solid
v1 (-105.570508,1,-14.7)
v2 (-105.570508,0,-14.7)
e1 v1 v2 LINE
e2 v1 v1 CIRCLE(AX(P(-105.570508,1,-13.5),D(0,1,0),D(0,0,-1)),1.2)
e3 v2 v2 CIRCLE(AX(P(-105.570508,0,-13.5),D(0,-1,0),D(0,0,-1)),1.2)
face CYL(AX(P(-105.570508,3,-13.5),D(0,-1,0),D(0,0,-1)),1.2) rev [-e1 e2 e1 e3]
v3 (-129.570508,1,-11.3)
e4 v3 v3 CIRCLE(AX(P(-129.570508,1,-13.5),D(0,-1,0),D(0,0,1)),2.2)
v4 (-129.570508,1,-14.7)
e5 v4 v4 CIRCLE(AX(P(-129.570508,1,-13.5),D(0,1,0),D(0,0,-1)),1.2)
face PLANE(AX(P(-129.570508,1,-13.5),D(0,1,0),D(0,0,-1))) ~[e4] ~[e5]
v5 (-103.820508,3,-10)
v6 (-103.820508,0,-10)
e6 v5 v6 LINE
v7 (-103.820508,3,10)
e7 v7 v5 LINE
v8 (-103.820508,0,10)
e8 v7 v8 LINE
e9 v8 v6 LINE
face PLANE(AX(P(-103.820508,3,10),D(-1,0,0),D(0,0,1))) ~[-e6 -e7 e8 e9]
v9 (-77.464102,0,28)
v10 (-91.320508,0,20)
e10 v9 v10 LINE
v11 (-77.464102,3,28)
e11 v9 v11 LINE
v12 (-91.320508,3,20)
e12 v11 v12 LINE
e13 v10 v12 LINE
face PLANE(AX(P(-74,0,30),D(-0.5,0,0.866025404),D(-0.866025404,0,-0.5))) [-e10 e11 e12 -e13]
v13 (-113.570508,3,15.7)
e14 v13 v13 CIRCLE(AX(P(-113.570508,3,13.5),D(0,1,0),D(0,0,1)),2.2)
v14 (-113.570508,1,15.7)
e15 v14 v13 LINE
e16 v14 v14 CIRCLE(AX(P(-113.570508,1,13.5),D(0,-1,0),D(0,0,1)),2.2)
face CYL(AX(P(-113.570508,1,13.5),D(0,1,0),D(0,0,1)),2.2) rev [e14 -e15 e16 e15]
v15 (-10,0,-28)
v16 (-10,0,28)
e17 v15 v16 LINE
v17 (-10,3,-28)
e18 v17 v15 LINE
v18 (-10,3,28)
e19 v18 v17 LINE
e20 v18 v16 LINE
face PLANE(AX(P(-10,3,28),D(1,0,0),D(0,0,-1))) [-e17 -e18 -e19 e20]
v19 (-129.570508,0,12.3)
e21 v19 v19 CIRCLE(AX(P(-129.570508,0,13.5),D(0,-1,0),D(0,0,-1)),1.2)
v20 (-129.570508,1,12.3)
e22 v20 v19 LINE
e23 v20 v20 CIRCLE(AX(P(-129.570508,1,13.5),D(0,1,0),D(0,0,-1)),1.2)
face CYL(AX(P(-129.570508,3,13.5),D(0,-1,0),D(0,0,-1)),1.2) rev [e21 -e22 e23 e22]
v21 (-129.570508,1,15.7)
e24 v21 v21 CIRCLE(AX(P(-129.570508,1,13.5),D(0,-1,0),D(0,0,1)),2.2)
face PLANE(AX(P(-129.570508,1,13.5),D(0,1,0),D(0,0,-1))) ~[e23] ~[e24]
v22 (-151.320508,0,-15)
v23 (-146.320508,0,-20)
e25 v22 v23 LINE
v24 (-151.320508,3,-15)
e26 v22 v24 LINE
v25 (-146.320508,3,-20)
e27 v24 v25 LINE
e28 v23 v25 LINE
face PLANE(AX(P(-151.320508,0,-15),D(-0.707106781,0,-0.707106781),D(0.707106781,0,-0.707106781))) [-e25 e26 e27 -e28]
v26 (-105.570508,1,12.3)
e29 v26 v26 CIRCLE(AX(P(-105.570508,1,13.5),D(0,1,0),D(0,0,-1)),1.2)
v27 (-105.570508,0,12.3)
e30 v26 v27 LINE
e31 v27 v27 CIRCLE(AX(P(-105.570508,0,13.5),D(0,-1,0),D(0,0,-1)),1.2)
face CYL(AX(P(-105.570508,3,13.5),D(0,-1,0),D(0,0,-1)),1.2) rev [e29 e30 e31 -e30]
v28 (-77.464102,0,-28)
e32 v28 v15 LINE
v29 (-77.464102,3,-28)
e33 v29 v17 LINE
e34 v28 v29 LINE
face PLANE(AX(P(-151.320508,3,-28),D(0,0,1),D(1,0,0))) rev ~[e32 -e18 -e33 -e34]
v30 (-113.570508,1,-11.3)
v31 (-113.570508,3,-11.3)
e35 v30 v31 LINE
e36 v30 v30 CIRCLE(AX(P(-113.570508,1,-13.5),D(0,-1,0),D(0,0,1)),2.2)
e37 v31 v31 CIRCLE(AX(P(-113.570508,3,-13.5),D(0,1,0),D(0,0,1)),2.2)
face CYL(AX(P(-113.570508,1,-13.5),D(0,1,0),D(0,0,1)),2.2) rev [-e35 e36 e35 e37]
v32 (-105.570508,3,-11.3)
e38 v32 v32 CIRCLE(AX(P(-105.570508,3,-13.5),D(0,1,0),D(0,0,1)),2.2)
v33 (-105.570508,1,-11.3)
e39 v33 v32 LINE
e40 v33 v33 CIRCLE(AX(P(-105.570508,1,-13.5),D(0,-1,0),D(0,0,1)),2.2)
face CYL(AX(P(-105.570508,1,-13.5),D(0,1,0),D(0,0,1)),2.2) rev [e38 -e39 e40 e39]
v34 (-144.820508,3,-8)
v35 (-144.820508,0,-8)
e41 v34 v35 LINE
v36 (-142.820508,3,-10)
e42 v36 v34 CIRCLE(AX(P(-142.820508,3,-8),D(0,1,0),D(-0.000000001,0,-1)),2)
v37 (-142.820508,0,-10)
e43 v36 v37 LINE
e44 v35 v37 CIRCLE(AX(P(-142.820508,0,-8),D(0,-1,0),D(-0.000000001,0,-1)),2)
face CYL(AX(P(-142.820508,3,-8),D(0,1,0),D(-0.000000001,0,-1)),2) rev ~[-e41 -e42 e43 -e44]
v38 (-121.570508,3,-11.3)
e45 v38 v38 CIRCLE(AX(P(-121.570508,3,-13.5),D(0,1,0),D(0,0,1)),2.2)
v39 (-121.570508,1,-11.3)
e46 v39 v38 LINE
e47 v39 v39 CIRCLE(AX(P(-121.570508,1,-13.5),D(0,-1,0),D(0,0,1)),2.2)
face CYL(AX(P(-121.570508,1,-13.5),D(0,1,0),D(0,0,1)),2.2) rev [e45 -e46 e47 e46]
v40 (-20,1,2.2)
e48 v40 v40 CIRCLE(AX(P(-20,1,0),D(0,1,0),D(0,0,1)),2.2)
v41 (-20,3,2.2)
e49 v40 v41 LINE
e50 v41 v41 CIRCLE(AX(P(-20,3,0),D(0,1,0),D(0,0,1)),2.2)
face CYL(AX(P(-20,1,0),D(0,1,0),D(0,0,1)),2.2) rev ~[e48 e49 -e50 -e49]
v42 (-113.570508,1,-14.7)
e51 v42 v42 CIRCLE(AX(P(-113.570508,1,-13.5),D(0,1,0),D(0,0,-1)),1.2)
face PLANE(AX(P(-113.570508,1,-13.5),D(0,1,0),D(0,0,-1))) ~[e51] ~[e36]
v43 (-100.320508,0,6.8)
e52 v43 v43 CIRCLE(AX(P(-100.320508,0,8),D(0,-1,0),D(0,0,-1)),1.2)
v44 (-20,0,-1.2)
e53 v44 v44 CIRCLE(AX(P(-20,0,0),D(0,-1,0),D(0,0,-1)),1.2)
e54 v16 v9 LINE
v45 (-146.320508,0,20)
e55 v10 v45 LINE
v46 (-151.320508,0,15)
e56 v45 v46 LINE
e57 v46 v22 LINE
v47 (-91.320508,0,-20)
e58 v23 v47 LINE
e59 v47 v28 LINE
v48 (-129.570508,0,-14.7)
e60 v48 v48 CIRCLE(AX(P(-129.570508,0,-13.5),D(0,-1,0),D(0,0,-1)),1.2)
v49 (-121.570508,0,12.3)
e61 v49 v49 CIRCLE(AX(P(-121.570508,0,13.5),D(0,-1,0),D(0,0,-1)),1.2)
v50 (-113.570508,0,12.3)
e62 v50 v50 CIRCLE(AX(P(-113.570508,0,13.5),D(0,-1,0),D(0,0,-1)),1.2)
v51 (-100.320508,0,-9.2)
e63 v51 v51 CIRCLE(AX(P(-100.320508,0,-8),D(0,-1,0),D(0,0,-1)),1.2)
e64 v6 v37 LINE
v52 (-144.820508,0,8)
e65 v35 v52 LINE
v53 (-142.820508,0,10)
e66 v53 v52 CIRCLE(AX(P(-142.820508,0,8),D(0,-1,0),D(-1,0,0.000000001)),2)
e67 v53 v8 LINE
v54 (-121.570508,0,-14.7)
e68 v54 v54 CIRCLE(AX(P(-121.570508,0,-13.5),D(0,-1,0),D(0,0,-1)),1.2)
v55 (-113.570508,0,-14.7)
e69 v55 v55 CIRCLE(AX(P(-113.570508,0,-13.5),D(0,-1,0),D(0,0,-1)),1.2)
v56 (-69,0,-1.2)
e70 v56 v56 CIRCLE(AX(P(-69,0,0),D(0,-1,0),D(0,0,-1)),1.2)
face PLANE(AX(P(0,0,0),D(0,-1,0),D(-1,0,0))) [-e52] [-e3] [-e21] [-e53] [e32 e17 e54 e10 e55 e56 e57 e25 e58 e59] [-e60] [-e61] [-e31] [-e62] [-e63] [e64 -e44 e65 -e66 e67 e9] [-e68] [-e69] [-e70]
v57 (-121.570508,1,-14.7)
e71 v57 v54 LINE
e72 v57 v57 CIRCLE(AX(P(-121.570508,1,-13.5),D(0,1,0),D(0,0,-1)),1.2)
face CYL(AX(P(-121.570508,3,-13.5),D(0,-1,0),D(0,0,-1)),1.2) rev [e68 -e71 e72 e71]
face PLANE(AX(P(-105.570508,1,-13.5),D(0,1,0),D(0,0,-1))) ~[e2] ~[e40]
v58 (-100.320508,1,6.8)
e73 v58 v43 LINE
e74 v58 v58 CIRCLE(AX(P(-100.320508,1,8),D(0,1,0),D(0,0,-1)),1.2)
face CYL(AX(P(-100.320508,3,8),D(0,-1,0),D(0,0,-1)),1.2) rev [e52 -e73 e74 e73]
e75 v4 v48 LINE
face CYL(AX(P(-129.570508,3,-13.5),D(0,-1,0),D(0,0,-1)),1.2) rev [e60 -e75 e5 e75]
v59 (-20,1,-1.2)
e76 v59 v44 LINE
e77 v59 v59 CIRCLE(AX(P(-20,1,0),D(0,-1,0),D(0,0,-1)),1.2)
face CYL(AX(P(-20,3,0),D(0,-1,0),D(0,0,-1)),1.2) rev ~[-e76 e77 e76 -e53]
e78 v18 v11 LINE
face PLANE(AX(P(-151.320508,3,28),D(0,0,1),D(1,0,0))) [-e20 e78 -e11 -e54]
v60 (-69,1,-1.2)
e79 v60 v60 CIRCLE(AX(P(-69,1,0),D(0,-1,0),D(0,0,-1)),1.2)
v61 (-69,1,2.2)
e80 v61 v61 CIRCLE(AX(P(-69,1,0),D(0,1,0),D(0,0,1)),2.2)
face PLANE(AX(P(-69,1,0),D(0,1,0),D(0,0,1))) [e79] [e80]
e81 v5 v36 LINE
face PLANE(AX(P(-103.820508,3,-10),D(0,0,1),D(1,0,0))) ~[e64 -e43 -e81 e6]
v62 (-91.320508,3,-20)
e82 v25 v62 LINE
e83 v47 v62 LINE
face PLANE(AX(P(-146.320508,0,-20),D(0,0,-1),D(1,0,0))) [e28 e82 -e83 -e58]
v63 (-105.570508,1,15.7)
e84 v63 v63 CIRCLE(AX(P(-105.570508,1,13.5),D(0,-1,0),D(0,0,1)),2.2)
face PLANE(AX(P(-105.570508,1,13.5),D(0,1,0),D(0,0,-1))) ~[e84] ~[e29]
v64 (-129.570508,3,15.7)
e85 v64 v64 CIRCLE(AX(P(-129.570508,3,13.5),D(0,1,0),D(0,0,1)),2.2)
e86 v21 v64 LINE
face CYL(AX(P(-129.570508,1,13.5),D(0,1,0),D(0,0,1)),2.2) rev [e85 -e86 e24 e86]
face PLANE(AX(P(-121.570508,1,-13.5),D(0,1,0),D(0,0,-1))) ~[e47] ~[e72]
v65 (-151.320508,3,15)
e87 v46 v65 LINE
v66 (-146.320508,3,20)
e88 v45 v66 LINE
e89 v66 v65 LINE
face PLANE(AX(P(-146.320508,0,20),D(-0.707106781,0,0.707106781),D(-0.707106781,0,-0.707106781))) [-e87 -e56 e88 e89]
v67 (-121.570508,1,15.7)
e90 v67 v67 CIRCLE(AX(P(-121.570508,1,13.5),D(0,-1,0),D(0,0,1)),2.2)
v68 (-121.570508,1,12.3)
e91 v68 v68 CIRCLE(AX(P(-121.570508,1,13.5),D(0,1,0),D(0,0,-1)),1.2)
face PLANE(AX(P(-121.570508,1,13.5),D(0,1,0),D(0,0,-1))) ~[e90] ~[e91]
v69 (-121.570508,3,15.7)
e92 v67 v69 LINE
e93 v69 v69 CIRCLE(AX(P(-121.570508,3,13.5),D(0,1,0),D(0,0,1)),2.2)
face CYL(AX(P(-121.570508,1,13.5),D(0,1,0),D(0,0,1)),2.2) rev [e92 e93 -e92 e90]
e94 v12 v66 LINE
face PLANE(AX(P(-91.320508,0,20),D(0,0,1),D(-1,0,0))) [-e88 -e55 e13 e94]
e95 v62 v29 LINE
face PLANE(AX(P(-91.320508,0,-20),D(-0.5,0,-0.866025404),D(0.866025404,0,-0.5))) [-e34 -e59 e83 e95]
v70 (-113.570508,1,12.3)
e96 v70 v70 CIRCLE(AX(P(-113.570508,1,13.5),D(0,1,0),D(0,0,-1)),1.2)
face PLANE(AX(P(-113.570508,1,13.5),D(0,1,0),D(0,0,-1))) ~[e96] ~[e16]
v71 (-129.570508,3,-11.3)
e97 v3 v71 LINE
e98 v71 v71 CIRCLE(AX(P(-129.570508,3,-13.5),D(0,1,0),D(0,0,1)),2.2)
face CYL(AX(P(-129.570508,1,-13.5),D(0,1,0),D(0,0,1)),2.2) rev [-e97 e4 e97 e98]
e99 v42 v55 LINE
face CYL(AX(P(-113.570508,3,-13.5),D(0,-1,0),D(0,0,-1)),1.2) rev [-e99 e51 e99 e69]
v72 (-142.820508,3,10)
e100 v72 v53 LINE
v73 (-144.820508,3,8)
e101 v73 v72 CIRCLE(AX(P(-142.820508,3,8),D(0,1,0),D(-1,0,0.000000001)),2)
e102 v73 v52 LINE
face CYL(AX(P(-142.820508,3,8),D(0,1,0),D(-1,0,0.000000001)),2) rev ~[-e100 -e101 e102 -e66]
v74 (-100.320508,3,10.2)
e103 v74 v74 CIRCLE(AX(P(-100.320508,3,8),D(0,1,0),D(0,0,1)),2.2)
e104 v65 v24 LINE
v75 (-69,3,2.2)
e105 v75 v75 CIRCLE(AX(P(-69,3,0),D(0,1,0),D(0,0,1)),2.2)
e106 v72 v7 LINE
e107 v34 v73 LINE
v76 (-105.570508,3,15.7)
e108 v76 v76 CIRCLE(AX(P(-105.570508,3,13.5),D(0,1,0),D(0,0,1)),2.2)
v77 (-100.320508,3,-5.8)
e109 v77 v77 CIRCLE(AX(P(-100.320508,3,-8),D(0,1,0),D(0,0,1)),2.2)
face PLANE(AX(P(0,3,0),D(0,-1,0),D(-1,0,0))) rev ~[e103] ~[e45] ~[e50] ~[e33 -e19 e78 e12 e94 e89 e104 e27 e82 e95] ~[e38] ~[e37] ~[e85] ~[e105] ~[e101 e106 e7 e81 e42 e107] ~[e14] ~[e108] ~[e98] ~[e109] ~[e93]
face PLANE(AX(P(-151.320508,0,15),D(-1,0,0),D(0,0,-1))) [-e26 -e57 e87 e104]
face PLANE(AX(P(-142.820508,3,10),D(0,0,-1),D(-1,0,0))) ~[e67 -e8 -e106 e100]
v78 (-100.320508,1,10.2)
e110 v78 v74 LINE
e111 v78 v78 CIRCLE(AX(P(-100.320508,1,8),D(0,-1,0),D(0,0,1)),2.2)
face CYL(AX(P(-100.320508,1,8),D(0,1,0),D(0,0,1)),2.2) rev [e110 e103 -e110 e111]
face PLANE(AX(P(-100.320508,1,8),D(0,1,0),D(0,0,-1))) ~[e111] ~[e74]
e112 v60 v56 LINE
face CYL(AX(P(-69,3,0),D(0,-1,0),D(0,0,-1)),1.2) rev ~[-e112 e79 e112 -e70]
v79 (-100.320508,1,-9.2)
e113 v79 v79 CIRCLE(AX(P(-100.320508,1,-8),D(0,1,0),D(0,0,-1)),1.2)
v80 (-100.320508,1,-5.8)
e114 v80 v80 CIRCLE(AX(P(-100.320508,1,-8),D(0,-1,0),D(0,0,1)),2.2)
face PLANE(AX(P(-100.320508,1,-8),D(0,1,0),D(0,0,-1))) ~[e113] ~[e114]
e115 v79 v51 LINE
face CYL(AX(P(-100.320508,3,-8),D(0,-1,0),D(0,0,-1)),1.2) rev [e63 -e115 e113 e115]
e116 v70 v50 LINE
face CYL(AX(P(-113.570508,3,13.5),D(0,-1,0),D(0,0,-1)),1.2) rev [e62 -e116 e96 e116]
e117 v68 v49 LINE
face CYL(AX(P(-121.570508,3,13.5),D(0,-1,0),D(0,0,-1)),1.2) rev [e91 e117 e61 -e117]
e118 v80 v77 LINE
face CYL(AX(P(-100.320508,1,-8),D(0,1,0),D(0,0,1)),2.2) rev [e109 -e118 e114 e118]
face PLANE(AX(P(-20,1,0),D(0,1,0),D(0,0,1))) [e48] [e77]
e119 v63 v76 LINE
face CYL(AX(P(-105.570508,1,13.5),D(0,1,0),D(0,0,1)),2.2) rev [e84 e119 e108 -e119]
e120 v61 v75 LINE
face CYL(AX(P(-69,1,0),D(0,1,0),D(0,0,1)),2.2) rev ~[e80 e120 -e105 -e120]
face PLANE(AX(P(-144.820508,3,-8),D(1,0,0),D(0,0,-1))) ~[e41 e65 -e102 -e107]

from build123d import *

# Parameters (mm, degrees)
EXTRUDE_1_DEPTH              = 3
CUT_EXTRUDE_1_REACH          = 217.134
HOLE_WIZARD_M2_2_D           = 2.4
HOLE_WIZARD_M2_2_CBORE_D     = 4.4
HOLE_WIZARD_M2_2_CBORE_DEPTH = 2
CUT_EXTRUDE_2_REACH          = 217.134
HOLE_WIZARD_M2_3_D           = 2.4
HOLE_WIZARD_M2_3_CBORE_D     = 4.4
HOLE_WIZARD_M2_3_CBORE_DEPTH = 2
MIRROR_7_COPY_1_REACH        = 217.134
MIRROR_7_COPY_2_D            = 2.4
MIRROR_7_COPY_2_CBORE_D      = 4.4
MIRROR_7_COPY_2_CBORE_DEPTH  = 2
CUT_EXTRUDE_3_REACH          = 217.134
SKETCH_18_W                  = 20
SKETCH_18_H                  = 10
HOLE_WIZARD_M2_4_D           = 2.4
HOLE_WIZARD_M2_4_CBORE_D     = 4.4
HOLE_WIZARD_M2_4_CBORE_DEPTH = 2
HOLE_WIZARD_M2_5_D           = 2.4
HOLE_WIZARD_M2_5_CBORE_D     = 4.4
HOLE_WIZARD_M2_5_CBORE_DEPTH = 2
HOLE_WIZARD_M2_6_D           = 2.4
HOLE_WIZARD_M2_6_CBORE_D     = 4.4
HOLE_WIZARD_M2_6_CBORE_DEPTH = 2
SKETCH_24_W                  = 20
SKETCH_24_H                  = 56
CUT_EXTRUDE_4_DEPTH          = 10
HOLE_WIZARD_M2_7_D           = 2.4
HOLE_WIZARD_M2_7_CBORE_D     = 4.4
HOLE_WIZARD_M2_7_CBORE_DEPTH = 2
SKETCH_26_OUTSIDE_W          = 390.69
SKETCH_26_OUTSIDE_H          = 393.83
SKETCH_26_OUTSIDE_W_2        = 141.320508076
SKETCH_26_OUTSIDE_H_2        = 56
CUT_EXTRUDE_5_DEPTH          = 10


with BuildPart() as part:
    # 草图1 → 凸台-拉伸1 (new body)
    with BuildSketch(Plane(origin=(0, 0, 0), x_dir=(1, 0, 0), z_dir=(0, 1, 0))):
        Polygon((-45.715728753, 114), (45.715728753, 114), (84.606601718, 152.890872965), (91.67766953, 152.890872965), (112.890872965, 131.67766953), (112.890872965, 124.606601718), (74, 85.715728753), (74, 30), (91.320508076, 20), (146.320508076, 20), (151.320508076, 15), (151.320508076, -15), (146.320508076, -20), (91.320508076, -20), (74, -30), (74, -85.715728753), (112.890872965, -124.606601718), (112.890872965, -131.67766953), (91.67766953, -152.890872965), (84.606601718, -152.890872965), (45.715728753, -114), (-45.715728753, -114), (-84.606601718, -152.890872965), (-91.67766953, -152.890872965), (-112.890872965, -131.67766953), (-112.890872965, -124.606601718), (-74, -85.715728753), (-74, -30), (-91.320508076, -20), (-146.320508076, -20), (-151.320508076, -15), (-151.320508076, 15), (-146.320508076, 20), (-91.320508076, 20), (-74, 30), (-74, 85.715728753), (-112.890872965, 124.606601718), (-112.890872965, 131.67766953), (-91.67766953, 152.890872965), (-84.606601718, 152.890872965), align=None)
    extrude(amount=EXTRUDE_1_DEPTH)

    # 草图2 → 切除-拉伸1 (cut, up to next)
    with BuildSketch(Plane(origin=(0, 3, 0), x_dir=(1, 0, 0), z_dir=(0, 1, 0)), mode=Mode.PRIVATE) as cut_extrude_1_sk1:
        with BuildLine():
            Line((103.820508076, -10), (103.820508076, 10))
            Line((103.820508076, 10), (142.820508076, 10))
            ThreePointArc((142.820508076, 10), (144.234721638, 9.414213562), (144.820508076, 8))
            Line((144.820508076, 8), (144.820508076, -8))
            ThreePointArc((144.820508076, -8), (144.234721638, -9.414213562), (142.820508076, -10))
            Line((142.820508076, -10), (103.820508076, -10))
        make_face()
    cut_extrude_1_tool1 = extrude(cut_extrude_1_sk1.sketch, amount=-CUT_EXTRUDE_1_REACH, mode=Mode.PRIVATE) & part.part
    cut_extrude_1 = cut_extrude_1_tool1.solids().sort_by_distance((124.278435, 3, 0))[0]
    add(cut_extrude_1, mode=Mode.SUBTRACT)

    # M2 凹头盖螺钉的柱形沉头孔2 (through all)
    with Locations(Plane(origin=(100.320508076, 3, -8), x_dir=(0, 0, 1), z_dir=(0, 1, 0))):
        with Locations((0, 0), (-5.5, 5.25), (-5.5, 13.25), (-5.5, 21.25), (-5.5, 29.25), (16, 0), (21.5, 5.25), (21.5, 13.25), (21.5, 21.25), (21.5, 29.25)):
            hole_wizard_m2_2 = CounterBoreHole(HOLE_WIZARD_M2_2_D / 2, HOLE_WIZARD_M2_2_CBORE_D / 2, HOLE_WIZARD_M2_2_CBORE_DEPTH)

    # 草图10 → 切除-拉伸2 (cut, up to next)
    with BuildSketch(Plane(origin=(0, 3, 0), x_dir=(1, 0, 0), z_dir=(0, 1, 0)), mode=Mode.PRIVATE) as cut_extrude_2_sk1:
        with BuildLine():
            Line((75.767766953, 101.625631329), (61.625631329, 115.767766953))
            Line((61.625631329, 115.767766953), (79.916185958, 134.058321582))
            Line((79.916185958, 134.058321582), (89.202795796, 143.344931419))
            ThreePointArc((89.202795796, 143.344931419), (90.617009358, 143.930717857), (92.03122292, 143.344931419))
            Line((92.03122292, 143.344931419), (97.68807717, 137.68807717))
            Line((97.68807717, 137.68807717), (103.344931419, 132.03122292))
            ThreePointArc((103.344931419, 132.03122292), (103.930717857, 130.617009358), (103.344931419, 129.202795796))
            Line((103.344931419, 129.202795796), (94.058321582, 119.916185958))
            Line((94.058321582, 119.916185958), (75.767766953, 101.625631329))
        make_face()
    cut_extrude_2_tool1 = extrude(cut_extrude_2_sk1.sketch, amount=-CUT_EXTRUDE_2_REACH, mode=Mode.PRIVATE) & part.part
    cut_extrude_2 = cut_extrude_2_tool1.solids().sort_by_distance((83.162638, 3, -123.162638))[0]
    add(cut_extrude_2, mode=Mode.SUBTRACT)

    # M2 凹头盖螺钉的柱形沉头孔3 (through all)
    with Locations(Plane(origin=(60.388194462, 3, -119.480077554), x_dir=(0, 0, 1), z_dir=(0, 1, 0))):
        with Locations((0, 0), (-5.65685425, 5.65685425), (-11.313708499, 11.313708499), (-16.970562749, 16.970562749), (7.601397898, 0.176776695), (18.915106397, 11.490485194), (19.091883092, 19.091883092), (13.435028842, 24.748737342), (7.778174593, 30.405591591), (2.121320343, 36.062445841)):
            hole_wizard_m2_3 = CounterBoreHole(HOLE_WIZARD_M2_3_D / 2, HOLE_WIZARD_M2_3_CBORE_D / 2, HOLE_WIZARD_M2_3_CBORE_DEPTH)

    # 镜向5: 切除-拉伸1, M2 凹头盖螺钉的柱形沉头孔2 across plane
    add(cut_extrude_1.mirror(Plane(origin=(0, 0, 0), x_dir=(0, 0, 1), z_dir=(1, 0, 0))), mode=Mode.SUBTRACT)
    add(hole_wizard_m2_2.mirror(Plane(origin=(0, 0, 0), x_dir=(0, 0, 1), z_dir=(1, 0, 0))), mode=Mode.SUBTRACT)

    # 镜向6: 切除-拉伸2, M2 凹头盖螺钉的柱形沉头孔3 across plane
    add(cut_extrude_2.mirror(Plane(origin=(0, 0, 0), x_dir=(0, 0, 1), z_dir=(1, 0, 0))), mode=Mode.SUBTRACT)
    add(hole_wizard_m2_3.mirror(Plane(origin=(0, 0, 0), x_dir=(0, 0, 1), z_dir=(1, 0, 0))), mode=Mode.SUBTRACT)

    # 镜向7: 切除-拉伸2, M2 凹头盖螺钉的柱形沉头孔3 across plane
    add(cut_extrude_2.mirror(Plane.XY), mode=Mode.SUBTRACT)
    add(hole_wizard_m2_3.mirror(Plane.XY), mode=Mode.SUBTRACT)

    # 镜向7 copy 1 sketch → 镜向7 copy 1 (cut, up to next)
    with BuildSketch(Plane(origin=(0, 3, 0), x_dir=(-1, 0, 0), z_dir=(0, 1, 0)), mode=Mode.PRIVATE) as mirror_7_copy_1_sk1:
        with BuildLine():
            Line((75.767766953, 101.625631329), (61.625631329, 115.767766953))
            Line((61.625631329, 115.767766953), (79.916185958, 134.058321582))
            Line((79.916185958, 134.058321582), (89.202795796, 143.344931419))
            ThreePointArc((89.202795796, 143.344931419), (90.617009358, 143.930717857), (92.03122292, 143.344931419))
            Line((92.03122292, 143.344931419), (97.68807717, 137.68807717))
            Line((97.68807717, 137.68807717), (103.344931419, 132.03122292))
            ThreePointArc((103.344931419, 132.03122292), (103.930717857, 130.617009358), (103.344931419, 129.202795796))
            Line((103.344931419, 129.202795796), (94.058321582, 119.916185958))
            Line((94.058321582, 119.916185958), (75.767766953, 101.625631329))
        make_face()
    mirror_7_copy_1_tool1 = extrude(mirror_7_copy_1_sk1.sketch, amount=-MIRROR_7_COPY_1_REACH, mode=Mode.PRIVATE) & part.part
    add(mirror_7_copy_1_tool1.solids().sort_by_distance((-83.162638, 3, 123.162638))[0], mode=Mode.SUBTRACT)

    # 镜向7 copy 2 (through all)
    with Locations(Plane(origin=(-60.388194462, 3, 119.480077554), x_dir=(0, 0, -1), z_dir=(0, 1, 0))):
        with Locations((0, 0), (-5.65685425, 5.65685425), (-11.313708499, 11.313708499), (-16.970562749, 16.970562749), (7.601397898, 0.176776695), (18.915106397, 11.490485194), (19.091883092, 19.091883092), (13.435028842, 24.748737342), (7.778174593, 30.405591591), (2.121320343, 36.062445841)):
            CounterBoreHole(MIRROR_7_COPY_2_D / 2, MIRROR_7_COPY_2_CBORE_D / 2, MIRROR_7_COPY_2_CBORE_DEPTH)

    # 草图18 → 切除-拉伸3 (cut, up to next)
    with BuildSketch(Plane(origin=(0, 3, 0), x_dir=(1, 0, 0), z_dir=(0, 1, 0)), mode=Mode.PRIVATE) as cut_extrude_3_sk1:
        Polygon((-60, -28), (-15, -28), (-15, -63), (-60, -83), align=None)
    cut_extrude_3_tool1 = extrude(cut_extrude_3_sk1.sketch, amount=-CUT_EXTRUDE_3_REACH, mode=Mode.PRIVATE) & part.part
    # 草图18 → 切除-拉伸3 (cut, up to next)
    with BuildSketch(Plane(origin=(0, 3, 0), x_dir=(1, 0, 0), z_dir=(0, 1, 0)), mode=Mode.PRIVATE) as cut_extrude_3_sk2:
        with Locations((20, -99)):
            Rectangle(SKETCH_18_W, SKETCH_18_H)
    cut_extrude_3_tool2 = extrude(cut_extrude_3_sk2.sketch, amount=-CUT_EXTRUDE_3_REACH, mode=Mode.PRIVATE) & part.part
    # 草图18 → 切除-拉伸3 (cut, up to next)
    with BuildSketch(Plane(origin=(0, 3, 0), x_dir=(1, 0, 0), z_dir=(0, 1, 0)), mode=Mode.PRIVATE) as cut_extrude_3_sk3:
        with Locations((-20, -99)):
            Rectangle(SKETCH_18_W, SKETCH_18_H)
    cut_extrude_3_tool3 = extrude(cut_extrude_3_sk3.sketch, amount=-CUT_EXTRUDE_3_REACH, mode=Mode.PRIVATE) & part.part
    # 草图18 → 切除-拉伸3 (cut, up to next)
    with BuildSketch(Plane(origin=(0, 3, 0), x_dir=(1, 0, 0), z_dir=(0, 1, 0)), mode=Mode.PRIVATE) as cut_extrude_3_sk4:
        Polygon((15, -63), (60, -83), (60, -28), (15, -28), align=None)
    cut_extrude_3_tool4 = extrude(cut_extrude_3_sk4.sketch, amount=-CUT_EXTRUDE_3_REACH, mode=Mode.PRIVATE) & part.part
    # 草图18 → 切除-拉伸3 (cut, up to next)
    with BuildSketch(Plane(origin=(0, 3, 0), x_dir=(1, 0, 0), z_dir=(0, 1, 0)), mode=Mode.PRIVATE) as cut_extrude_3_sk5:
        with Locations((-20, 99)):
            Rectangle(SKETCH_18_W, SKETCH_18_H)
    cut_extrude_3_tool5 = extrude(cut_extrude_3_sk5.sketch, amount=-CUT_EXTRUDE_3_REACH, mode=Mode.PRIVATE) & part.part
    # 草图18 → 切除-拉伸3 (cut, up to next)
    with BuildSketch(Plane(origin=(0, 3, 0), x_dir=(1, 0, 0), z_dir=(0, 1, 0)), mode=Mode.PRIVATE) as cut_extrude_3_sk6:
        with Locations((20, 99)):
            Rectangle(SKETCH_18_W, SKETCH_18_H)
    cut_extrude_3_tool6 = extrude(cut_extrude_3_sk6.sketch, amount=-CUT_EXTRUDE_3_REACH, mode=Mode.PRIVATE) & part.part
    # 草图18 → 切除-拉伸3 (cut, up to next)
    with BuildSketch(Plane(origin=(0, 3, 0), x_dir=(1, 0, 0), z_dir=(0, 1, 0)), mode=Mode.PRIVATE) as cut_extrude_3_sk7:
        Polygon((15, 63), (60, 83), (60, 28), (15, 28), align=None)
    cut_extrude_3_tool7 = extrude(cut_extrude_3_sk7.sketch, amount=-CUT_EXTRUDE_3_REACH, mode=Mode.PRIVATE) & part.part
    # 草图18 → 切除-拉伸3 (cut, up to next)
    with BuildSketch(Plane(origin=(0, 3, 0), x_dir=(1, 0, 0), z_dir=(0, 1, 0)), mode=Mode.PRIVATE) as cut_extrude_3_sk8:
        Polygon((-15, 28), (-15, 63), (-60, 83), (-60, 28), align=None)
    cut_extrude_3_tool8 = extrude(cut_extrude_3_sk8.sketch, amount=-CUT_EXTRUDE_3_REACH, mode=Mode.PRIVATE) & part.part
    add(cut_extrude_3_tool1.solids().sort_by_distance((-39.166667, 3, 50.87037))[0], mode=Mode.SUBTRACT)
    add(cut_extrude_3_tool2.solids().sort_by_distance((20, 3, 99))[0], mode=Mode.SUBTRACT)
    add(cut_extrude_3_tool3.solids().sort_by_distance((-20, 3, 99))[0], mode=Mode.SUBTRACT)
    add(cut_extrude_3_tool4.solids().sort_by_distance((39.166667, 3, 50.87037))[0], mode=Mode.SUBTRACT)
    add(cut_extrude_3_tool5.solids().sort_by_distance((-20, 3, -99))[0], mode=Mode.SUBTRACT)
    add(cut_extrude_3_tool6.solids().sort_by_distance((20, 3, -99))[0], mode=Mode.SUBTRACT)
    add(cut_extrude_3_tool7.solids().sort_by_distance((39.166667, 3, -50.87037))[0], mode=Mode.SUBTRACT)
    add(cut_extrude_3_tool8.solids().sort_by_distance((-39.166667, 3, -50.87037))[0], mode=Mode.SUBTRACT)

    # M2 凹头盖螺钉的柱形沉头孔4 (through all)
    with Locations(Plane(origin=(-20, 3, 109), x_dir=(0, 0, 1), z_dir=(0, 1, 0))):
        with Locations((0, 0), (0, 40), (-218, 0), (-218, 40)):
            CounterBoreHole(HOLE_WIZARD_M2_4_D / 2, HOLE_WIZARD_M2_4_CBORE_D / 2, HOLE_WIZARD_M2_4_CBORE_DEPTH)

    # M2 凹头盖螺钉的柱形沉头孔5 (through all)
    with Locations(Plane(origin=(-69, 3, -40), x_dir=(0, 0, 1), z_dir=(0, 1, 0))):
        with Locations((0, 0), (0, 138)):
            hole_wizard_m2_5 = CounterBoreHole(HOLE_WIZARD_M2_5_D / 2, HOLE_WIZARD_M2_5_CBORE_D / 2, HOLE_WIZARD_M2_5_CBORE_DEPTH)

    # 镜向8: M2 凹头盖螺钉的柱形沉头孔5 across plane
    add(hole_wizard_m2_5.mirror(Plane.XY), mode=Mode.SUBTRACT)

    # M2 凹头盖螺钉的柱形沉头孔6 (through all)
    with Locations(Plane(origin=(-69, 3, 0), x_dir=(0, 0, 1), z_dir=(0, 1, 0))):
        with Locations((0, 0), (0, 138)):
            CounterBoreHole(HOLE_WIZARD_M2_6_D / 2, HOLE_WIZARD_M2_6_CBORE_D / 2, HOLE_WIZARD_M2_6_CBORE_DEPTH)

    # 草图24 → 切除-拉伸4 (cut)
    with BuildSketch(Plane(origin=(0, 3, 0), x_dir=(1, 0, 0), z_dir=(0, 1, 0))):
        Rectangle(SKETCH_24_W, SKETCH_24_H)
    extrude(amount=-CUT_EXTRUDE_4_DEPTH, mode=Mode.SUBTRACT)

    # M2 凹头盖螺钉的柱形沉头孔7 (through all)
    with Locations(Plane(origin=(-20, 3, 0), x_dir=(0, 0, 1), z_dir=(0, 1, 0))):
        with Locations((0, 0), (0, 40)):
            CounterBoreHole(HOLE_WIZARD_M2_7_D / 2, HOLE_WIZARD_M2_7_CBORE_D / 2, HOLE_WIZARD_M2_7_CBORE_DEPTH)

    # 草图26 outside → 切除-拉伸5 (cut)
    with BuildSketch(Plane(origin=(0, 3, 0), x_dir=(1, 0, 0), z_dir=(0, 1, 0))):
        Rectangle(SKETCH_26_OUTSIDE_W, SKETCH_26_OUTSIDE_H)
        with Locations((-80.660254038, 0)):
            Rectangle(SKETCH_26_OUTSIDE_W_2, SKETCH_26_OUTSIDE_H_2, mode=Mode.SUBTRACT)
    extrude(amount=-CUT_EXTRUDE_5_DEPTH, mode=Mode.SUBTRACT)


solid = part.part
